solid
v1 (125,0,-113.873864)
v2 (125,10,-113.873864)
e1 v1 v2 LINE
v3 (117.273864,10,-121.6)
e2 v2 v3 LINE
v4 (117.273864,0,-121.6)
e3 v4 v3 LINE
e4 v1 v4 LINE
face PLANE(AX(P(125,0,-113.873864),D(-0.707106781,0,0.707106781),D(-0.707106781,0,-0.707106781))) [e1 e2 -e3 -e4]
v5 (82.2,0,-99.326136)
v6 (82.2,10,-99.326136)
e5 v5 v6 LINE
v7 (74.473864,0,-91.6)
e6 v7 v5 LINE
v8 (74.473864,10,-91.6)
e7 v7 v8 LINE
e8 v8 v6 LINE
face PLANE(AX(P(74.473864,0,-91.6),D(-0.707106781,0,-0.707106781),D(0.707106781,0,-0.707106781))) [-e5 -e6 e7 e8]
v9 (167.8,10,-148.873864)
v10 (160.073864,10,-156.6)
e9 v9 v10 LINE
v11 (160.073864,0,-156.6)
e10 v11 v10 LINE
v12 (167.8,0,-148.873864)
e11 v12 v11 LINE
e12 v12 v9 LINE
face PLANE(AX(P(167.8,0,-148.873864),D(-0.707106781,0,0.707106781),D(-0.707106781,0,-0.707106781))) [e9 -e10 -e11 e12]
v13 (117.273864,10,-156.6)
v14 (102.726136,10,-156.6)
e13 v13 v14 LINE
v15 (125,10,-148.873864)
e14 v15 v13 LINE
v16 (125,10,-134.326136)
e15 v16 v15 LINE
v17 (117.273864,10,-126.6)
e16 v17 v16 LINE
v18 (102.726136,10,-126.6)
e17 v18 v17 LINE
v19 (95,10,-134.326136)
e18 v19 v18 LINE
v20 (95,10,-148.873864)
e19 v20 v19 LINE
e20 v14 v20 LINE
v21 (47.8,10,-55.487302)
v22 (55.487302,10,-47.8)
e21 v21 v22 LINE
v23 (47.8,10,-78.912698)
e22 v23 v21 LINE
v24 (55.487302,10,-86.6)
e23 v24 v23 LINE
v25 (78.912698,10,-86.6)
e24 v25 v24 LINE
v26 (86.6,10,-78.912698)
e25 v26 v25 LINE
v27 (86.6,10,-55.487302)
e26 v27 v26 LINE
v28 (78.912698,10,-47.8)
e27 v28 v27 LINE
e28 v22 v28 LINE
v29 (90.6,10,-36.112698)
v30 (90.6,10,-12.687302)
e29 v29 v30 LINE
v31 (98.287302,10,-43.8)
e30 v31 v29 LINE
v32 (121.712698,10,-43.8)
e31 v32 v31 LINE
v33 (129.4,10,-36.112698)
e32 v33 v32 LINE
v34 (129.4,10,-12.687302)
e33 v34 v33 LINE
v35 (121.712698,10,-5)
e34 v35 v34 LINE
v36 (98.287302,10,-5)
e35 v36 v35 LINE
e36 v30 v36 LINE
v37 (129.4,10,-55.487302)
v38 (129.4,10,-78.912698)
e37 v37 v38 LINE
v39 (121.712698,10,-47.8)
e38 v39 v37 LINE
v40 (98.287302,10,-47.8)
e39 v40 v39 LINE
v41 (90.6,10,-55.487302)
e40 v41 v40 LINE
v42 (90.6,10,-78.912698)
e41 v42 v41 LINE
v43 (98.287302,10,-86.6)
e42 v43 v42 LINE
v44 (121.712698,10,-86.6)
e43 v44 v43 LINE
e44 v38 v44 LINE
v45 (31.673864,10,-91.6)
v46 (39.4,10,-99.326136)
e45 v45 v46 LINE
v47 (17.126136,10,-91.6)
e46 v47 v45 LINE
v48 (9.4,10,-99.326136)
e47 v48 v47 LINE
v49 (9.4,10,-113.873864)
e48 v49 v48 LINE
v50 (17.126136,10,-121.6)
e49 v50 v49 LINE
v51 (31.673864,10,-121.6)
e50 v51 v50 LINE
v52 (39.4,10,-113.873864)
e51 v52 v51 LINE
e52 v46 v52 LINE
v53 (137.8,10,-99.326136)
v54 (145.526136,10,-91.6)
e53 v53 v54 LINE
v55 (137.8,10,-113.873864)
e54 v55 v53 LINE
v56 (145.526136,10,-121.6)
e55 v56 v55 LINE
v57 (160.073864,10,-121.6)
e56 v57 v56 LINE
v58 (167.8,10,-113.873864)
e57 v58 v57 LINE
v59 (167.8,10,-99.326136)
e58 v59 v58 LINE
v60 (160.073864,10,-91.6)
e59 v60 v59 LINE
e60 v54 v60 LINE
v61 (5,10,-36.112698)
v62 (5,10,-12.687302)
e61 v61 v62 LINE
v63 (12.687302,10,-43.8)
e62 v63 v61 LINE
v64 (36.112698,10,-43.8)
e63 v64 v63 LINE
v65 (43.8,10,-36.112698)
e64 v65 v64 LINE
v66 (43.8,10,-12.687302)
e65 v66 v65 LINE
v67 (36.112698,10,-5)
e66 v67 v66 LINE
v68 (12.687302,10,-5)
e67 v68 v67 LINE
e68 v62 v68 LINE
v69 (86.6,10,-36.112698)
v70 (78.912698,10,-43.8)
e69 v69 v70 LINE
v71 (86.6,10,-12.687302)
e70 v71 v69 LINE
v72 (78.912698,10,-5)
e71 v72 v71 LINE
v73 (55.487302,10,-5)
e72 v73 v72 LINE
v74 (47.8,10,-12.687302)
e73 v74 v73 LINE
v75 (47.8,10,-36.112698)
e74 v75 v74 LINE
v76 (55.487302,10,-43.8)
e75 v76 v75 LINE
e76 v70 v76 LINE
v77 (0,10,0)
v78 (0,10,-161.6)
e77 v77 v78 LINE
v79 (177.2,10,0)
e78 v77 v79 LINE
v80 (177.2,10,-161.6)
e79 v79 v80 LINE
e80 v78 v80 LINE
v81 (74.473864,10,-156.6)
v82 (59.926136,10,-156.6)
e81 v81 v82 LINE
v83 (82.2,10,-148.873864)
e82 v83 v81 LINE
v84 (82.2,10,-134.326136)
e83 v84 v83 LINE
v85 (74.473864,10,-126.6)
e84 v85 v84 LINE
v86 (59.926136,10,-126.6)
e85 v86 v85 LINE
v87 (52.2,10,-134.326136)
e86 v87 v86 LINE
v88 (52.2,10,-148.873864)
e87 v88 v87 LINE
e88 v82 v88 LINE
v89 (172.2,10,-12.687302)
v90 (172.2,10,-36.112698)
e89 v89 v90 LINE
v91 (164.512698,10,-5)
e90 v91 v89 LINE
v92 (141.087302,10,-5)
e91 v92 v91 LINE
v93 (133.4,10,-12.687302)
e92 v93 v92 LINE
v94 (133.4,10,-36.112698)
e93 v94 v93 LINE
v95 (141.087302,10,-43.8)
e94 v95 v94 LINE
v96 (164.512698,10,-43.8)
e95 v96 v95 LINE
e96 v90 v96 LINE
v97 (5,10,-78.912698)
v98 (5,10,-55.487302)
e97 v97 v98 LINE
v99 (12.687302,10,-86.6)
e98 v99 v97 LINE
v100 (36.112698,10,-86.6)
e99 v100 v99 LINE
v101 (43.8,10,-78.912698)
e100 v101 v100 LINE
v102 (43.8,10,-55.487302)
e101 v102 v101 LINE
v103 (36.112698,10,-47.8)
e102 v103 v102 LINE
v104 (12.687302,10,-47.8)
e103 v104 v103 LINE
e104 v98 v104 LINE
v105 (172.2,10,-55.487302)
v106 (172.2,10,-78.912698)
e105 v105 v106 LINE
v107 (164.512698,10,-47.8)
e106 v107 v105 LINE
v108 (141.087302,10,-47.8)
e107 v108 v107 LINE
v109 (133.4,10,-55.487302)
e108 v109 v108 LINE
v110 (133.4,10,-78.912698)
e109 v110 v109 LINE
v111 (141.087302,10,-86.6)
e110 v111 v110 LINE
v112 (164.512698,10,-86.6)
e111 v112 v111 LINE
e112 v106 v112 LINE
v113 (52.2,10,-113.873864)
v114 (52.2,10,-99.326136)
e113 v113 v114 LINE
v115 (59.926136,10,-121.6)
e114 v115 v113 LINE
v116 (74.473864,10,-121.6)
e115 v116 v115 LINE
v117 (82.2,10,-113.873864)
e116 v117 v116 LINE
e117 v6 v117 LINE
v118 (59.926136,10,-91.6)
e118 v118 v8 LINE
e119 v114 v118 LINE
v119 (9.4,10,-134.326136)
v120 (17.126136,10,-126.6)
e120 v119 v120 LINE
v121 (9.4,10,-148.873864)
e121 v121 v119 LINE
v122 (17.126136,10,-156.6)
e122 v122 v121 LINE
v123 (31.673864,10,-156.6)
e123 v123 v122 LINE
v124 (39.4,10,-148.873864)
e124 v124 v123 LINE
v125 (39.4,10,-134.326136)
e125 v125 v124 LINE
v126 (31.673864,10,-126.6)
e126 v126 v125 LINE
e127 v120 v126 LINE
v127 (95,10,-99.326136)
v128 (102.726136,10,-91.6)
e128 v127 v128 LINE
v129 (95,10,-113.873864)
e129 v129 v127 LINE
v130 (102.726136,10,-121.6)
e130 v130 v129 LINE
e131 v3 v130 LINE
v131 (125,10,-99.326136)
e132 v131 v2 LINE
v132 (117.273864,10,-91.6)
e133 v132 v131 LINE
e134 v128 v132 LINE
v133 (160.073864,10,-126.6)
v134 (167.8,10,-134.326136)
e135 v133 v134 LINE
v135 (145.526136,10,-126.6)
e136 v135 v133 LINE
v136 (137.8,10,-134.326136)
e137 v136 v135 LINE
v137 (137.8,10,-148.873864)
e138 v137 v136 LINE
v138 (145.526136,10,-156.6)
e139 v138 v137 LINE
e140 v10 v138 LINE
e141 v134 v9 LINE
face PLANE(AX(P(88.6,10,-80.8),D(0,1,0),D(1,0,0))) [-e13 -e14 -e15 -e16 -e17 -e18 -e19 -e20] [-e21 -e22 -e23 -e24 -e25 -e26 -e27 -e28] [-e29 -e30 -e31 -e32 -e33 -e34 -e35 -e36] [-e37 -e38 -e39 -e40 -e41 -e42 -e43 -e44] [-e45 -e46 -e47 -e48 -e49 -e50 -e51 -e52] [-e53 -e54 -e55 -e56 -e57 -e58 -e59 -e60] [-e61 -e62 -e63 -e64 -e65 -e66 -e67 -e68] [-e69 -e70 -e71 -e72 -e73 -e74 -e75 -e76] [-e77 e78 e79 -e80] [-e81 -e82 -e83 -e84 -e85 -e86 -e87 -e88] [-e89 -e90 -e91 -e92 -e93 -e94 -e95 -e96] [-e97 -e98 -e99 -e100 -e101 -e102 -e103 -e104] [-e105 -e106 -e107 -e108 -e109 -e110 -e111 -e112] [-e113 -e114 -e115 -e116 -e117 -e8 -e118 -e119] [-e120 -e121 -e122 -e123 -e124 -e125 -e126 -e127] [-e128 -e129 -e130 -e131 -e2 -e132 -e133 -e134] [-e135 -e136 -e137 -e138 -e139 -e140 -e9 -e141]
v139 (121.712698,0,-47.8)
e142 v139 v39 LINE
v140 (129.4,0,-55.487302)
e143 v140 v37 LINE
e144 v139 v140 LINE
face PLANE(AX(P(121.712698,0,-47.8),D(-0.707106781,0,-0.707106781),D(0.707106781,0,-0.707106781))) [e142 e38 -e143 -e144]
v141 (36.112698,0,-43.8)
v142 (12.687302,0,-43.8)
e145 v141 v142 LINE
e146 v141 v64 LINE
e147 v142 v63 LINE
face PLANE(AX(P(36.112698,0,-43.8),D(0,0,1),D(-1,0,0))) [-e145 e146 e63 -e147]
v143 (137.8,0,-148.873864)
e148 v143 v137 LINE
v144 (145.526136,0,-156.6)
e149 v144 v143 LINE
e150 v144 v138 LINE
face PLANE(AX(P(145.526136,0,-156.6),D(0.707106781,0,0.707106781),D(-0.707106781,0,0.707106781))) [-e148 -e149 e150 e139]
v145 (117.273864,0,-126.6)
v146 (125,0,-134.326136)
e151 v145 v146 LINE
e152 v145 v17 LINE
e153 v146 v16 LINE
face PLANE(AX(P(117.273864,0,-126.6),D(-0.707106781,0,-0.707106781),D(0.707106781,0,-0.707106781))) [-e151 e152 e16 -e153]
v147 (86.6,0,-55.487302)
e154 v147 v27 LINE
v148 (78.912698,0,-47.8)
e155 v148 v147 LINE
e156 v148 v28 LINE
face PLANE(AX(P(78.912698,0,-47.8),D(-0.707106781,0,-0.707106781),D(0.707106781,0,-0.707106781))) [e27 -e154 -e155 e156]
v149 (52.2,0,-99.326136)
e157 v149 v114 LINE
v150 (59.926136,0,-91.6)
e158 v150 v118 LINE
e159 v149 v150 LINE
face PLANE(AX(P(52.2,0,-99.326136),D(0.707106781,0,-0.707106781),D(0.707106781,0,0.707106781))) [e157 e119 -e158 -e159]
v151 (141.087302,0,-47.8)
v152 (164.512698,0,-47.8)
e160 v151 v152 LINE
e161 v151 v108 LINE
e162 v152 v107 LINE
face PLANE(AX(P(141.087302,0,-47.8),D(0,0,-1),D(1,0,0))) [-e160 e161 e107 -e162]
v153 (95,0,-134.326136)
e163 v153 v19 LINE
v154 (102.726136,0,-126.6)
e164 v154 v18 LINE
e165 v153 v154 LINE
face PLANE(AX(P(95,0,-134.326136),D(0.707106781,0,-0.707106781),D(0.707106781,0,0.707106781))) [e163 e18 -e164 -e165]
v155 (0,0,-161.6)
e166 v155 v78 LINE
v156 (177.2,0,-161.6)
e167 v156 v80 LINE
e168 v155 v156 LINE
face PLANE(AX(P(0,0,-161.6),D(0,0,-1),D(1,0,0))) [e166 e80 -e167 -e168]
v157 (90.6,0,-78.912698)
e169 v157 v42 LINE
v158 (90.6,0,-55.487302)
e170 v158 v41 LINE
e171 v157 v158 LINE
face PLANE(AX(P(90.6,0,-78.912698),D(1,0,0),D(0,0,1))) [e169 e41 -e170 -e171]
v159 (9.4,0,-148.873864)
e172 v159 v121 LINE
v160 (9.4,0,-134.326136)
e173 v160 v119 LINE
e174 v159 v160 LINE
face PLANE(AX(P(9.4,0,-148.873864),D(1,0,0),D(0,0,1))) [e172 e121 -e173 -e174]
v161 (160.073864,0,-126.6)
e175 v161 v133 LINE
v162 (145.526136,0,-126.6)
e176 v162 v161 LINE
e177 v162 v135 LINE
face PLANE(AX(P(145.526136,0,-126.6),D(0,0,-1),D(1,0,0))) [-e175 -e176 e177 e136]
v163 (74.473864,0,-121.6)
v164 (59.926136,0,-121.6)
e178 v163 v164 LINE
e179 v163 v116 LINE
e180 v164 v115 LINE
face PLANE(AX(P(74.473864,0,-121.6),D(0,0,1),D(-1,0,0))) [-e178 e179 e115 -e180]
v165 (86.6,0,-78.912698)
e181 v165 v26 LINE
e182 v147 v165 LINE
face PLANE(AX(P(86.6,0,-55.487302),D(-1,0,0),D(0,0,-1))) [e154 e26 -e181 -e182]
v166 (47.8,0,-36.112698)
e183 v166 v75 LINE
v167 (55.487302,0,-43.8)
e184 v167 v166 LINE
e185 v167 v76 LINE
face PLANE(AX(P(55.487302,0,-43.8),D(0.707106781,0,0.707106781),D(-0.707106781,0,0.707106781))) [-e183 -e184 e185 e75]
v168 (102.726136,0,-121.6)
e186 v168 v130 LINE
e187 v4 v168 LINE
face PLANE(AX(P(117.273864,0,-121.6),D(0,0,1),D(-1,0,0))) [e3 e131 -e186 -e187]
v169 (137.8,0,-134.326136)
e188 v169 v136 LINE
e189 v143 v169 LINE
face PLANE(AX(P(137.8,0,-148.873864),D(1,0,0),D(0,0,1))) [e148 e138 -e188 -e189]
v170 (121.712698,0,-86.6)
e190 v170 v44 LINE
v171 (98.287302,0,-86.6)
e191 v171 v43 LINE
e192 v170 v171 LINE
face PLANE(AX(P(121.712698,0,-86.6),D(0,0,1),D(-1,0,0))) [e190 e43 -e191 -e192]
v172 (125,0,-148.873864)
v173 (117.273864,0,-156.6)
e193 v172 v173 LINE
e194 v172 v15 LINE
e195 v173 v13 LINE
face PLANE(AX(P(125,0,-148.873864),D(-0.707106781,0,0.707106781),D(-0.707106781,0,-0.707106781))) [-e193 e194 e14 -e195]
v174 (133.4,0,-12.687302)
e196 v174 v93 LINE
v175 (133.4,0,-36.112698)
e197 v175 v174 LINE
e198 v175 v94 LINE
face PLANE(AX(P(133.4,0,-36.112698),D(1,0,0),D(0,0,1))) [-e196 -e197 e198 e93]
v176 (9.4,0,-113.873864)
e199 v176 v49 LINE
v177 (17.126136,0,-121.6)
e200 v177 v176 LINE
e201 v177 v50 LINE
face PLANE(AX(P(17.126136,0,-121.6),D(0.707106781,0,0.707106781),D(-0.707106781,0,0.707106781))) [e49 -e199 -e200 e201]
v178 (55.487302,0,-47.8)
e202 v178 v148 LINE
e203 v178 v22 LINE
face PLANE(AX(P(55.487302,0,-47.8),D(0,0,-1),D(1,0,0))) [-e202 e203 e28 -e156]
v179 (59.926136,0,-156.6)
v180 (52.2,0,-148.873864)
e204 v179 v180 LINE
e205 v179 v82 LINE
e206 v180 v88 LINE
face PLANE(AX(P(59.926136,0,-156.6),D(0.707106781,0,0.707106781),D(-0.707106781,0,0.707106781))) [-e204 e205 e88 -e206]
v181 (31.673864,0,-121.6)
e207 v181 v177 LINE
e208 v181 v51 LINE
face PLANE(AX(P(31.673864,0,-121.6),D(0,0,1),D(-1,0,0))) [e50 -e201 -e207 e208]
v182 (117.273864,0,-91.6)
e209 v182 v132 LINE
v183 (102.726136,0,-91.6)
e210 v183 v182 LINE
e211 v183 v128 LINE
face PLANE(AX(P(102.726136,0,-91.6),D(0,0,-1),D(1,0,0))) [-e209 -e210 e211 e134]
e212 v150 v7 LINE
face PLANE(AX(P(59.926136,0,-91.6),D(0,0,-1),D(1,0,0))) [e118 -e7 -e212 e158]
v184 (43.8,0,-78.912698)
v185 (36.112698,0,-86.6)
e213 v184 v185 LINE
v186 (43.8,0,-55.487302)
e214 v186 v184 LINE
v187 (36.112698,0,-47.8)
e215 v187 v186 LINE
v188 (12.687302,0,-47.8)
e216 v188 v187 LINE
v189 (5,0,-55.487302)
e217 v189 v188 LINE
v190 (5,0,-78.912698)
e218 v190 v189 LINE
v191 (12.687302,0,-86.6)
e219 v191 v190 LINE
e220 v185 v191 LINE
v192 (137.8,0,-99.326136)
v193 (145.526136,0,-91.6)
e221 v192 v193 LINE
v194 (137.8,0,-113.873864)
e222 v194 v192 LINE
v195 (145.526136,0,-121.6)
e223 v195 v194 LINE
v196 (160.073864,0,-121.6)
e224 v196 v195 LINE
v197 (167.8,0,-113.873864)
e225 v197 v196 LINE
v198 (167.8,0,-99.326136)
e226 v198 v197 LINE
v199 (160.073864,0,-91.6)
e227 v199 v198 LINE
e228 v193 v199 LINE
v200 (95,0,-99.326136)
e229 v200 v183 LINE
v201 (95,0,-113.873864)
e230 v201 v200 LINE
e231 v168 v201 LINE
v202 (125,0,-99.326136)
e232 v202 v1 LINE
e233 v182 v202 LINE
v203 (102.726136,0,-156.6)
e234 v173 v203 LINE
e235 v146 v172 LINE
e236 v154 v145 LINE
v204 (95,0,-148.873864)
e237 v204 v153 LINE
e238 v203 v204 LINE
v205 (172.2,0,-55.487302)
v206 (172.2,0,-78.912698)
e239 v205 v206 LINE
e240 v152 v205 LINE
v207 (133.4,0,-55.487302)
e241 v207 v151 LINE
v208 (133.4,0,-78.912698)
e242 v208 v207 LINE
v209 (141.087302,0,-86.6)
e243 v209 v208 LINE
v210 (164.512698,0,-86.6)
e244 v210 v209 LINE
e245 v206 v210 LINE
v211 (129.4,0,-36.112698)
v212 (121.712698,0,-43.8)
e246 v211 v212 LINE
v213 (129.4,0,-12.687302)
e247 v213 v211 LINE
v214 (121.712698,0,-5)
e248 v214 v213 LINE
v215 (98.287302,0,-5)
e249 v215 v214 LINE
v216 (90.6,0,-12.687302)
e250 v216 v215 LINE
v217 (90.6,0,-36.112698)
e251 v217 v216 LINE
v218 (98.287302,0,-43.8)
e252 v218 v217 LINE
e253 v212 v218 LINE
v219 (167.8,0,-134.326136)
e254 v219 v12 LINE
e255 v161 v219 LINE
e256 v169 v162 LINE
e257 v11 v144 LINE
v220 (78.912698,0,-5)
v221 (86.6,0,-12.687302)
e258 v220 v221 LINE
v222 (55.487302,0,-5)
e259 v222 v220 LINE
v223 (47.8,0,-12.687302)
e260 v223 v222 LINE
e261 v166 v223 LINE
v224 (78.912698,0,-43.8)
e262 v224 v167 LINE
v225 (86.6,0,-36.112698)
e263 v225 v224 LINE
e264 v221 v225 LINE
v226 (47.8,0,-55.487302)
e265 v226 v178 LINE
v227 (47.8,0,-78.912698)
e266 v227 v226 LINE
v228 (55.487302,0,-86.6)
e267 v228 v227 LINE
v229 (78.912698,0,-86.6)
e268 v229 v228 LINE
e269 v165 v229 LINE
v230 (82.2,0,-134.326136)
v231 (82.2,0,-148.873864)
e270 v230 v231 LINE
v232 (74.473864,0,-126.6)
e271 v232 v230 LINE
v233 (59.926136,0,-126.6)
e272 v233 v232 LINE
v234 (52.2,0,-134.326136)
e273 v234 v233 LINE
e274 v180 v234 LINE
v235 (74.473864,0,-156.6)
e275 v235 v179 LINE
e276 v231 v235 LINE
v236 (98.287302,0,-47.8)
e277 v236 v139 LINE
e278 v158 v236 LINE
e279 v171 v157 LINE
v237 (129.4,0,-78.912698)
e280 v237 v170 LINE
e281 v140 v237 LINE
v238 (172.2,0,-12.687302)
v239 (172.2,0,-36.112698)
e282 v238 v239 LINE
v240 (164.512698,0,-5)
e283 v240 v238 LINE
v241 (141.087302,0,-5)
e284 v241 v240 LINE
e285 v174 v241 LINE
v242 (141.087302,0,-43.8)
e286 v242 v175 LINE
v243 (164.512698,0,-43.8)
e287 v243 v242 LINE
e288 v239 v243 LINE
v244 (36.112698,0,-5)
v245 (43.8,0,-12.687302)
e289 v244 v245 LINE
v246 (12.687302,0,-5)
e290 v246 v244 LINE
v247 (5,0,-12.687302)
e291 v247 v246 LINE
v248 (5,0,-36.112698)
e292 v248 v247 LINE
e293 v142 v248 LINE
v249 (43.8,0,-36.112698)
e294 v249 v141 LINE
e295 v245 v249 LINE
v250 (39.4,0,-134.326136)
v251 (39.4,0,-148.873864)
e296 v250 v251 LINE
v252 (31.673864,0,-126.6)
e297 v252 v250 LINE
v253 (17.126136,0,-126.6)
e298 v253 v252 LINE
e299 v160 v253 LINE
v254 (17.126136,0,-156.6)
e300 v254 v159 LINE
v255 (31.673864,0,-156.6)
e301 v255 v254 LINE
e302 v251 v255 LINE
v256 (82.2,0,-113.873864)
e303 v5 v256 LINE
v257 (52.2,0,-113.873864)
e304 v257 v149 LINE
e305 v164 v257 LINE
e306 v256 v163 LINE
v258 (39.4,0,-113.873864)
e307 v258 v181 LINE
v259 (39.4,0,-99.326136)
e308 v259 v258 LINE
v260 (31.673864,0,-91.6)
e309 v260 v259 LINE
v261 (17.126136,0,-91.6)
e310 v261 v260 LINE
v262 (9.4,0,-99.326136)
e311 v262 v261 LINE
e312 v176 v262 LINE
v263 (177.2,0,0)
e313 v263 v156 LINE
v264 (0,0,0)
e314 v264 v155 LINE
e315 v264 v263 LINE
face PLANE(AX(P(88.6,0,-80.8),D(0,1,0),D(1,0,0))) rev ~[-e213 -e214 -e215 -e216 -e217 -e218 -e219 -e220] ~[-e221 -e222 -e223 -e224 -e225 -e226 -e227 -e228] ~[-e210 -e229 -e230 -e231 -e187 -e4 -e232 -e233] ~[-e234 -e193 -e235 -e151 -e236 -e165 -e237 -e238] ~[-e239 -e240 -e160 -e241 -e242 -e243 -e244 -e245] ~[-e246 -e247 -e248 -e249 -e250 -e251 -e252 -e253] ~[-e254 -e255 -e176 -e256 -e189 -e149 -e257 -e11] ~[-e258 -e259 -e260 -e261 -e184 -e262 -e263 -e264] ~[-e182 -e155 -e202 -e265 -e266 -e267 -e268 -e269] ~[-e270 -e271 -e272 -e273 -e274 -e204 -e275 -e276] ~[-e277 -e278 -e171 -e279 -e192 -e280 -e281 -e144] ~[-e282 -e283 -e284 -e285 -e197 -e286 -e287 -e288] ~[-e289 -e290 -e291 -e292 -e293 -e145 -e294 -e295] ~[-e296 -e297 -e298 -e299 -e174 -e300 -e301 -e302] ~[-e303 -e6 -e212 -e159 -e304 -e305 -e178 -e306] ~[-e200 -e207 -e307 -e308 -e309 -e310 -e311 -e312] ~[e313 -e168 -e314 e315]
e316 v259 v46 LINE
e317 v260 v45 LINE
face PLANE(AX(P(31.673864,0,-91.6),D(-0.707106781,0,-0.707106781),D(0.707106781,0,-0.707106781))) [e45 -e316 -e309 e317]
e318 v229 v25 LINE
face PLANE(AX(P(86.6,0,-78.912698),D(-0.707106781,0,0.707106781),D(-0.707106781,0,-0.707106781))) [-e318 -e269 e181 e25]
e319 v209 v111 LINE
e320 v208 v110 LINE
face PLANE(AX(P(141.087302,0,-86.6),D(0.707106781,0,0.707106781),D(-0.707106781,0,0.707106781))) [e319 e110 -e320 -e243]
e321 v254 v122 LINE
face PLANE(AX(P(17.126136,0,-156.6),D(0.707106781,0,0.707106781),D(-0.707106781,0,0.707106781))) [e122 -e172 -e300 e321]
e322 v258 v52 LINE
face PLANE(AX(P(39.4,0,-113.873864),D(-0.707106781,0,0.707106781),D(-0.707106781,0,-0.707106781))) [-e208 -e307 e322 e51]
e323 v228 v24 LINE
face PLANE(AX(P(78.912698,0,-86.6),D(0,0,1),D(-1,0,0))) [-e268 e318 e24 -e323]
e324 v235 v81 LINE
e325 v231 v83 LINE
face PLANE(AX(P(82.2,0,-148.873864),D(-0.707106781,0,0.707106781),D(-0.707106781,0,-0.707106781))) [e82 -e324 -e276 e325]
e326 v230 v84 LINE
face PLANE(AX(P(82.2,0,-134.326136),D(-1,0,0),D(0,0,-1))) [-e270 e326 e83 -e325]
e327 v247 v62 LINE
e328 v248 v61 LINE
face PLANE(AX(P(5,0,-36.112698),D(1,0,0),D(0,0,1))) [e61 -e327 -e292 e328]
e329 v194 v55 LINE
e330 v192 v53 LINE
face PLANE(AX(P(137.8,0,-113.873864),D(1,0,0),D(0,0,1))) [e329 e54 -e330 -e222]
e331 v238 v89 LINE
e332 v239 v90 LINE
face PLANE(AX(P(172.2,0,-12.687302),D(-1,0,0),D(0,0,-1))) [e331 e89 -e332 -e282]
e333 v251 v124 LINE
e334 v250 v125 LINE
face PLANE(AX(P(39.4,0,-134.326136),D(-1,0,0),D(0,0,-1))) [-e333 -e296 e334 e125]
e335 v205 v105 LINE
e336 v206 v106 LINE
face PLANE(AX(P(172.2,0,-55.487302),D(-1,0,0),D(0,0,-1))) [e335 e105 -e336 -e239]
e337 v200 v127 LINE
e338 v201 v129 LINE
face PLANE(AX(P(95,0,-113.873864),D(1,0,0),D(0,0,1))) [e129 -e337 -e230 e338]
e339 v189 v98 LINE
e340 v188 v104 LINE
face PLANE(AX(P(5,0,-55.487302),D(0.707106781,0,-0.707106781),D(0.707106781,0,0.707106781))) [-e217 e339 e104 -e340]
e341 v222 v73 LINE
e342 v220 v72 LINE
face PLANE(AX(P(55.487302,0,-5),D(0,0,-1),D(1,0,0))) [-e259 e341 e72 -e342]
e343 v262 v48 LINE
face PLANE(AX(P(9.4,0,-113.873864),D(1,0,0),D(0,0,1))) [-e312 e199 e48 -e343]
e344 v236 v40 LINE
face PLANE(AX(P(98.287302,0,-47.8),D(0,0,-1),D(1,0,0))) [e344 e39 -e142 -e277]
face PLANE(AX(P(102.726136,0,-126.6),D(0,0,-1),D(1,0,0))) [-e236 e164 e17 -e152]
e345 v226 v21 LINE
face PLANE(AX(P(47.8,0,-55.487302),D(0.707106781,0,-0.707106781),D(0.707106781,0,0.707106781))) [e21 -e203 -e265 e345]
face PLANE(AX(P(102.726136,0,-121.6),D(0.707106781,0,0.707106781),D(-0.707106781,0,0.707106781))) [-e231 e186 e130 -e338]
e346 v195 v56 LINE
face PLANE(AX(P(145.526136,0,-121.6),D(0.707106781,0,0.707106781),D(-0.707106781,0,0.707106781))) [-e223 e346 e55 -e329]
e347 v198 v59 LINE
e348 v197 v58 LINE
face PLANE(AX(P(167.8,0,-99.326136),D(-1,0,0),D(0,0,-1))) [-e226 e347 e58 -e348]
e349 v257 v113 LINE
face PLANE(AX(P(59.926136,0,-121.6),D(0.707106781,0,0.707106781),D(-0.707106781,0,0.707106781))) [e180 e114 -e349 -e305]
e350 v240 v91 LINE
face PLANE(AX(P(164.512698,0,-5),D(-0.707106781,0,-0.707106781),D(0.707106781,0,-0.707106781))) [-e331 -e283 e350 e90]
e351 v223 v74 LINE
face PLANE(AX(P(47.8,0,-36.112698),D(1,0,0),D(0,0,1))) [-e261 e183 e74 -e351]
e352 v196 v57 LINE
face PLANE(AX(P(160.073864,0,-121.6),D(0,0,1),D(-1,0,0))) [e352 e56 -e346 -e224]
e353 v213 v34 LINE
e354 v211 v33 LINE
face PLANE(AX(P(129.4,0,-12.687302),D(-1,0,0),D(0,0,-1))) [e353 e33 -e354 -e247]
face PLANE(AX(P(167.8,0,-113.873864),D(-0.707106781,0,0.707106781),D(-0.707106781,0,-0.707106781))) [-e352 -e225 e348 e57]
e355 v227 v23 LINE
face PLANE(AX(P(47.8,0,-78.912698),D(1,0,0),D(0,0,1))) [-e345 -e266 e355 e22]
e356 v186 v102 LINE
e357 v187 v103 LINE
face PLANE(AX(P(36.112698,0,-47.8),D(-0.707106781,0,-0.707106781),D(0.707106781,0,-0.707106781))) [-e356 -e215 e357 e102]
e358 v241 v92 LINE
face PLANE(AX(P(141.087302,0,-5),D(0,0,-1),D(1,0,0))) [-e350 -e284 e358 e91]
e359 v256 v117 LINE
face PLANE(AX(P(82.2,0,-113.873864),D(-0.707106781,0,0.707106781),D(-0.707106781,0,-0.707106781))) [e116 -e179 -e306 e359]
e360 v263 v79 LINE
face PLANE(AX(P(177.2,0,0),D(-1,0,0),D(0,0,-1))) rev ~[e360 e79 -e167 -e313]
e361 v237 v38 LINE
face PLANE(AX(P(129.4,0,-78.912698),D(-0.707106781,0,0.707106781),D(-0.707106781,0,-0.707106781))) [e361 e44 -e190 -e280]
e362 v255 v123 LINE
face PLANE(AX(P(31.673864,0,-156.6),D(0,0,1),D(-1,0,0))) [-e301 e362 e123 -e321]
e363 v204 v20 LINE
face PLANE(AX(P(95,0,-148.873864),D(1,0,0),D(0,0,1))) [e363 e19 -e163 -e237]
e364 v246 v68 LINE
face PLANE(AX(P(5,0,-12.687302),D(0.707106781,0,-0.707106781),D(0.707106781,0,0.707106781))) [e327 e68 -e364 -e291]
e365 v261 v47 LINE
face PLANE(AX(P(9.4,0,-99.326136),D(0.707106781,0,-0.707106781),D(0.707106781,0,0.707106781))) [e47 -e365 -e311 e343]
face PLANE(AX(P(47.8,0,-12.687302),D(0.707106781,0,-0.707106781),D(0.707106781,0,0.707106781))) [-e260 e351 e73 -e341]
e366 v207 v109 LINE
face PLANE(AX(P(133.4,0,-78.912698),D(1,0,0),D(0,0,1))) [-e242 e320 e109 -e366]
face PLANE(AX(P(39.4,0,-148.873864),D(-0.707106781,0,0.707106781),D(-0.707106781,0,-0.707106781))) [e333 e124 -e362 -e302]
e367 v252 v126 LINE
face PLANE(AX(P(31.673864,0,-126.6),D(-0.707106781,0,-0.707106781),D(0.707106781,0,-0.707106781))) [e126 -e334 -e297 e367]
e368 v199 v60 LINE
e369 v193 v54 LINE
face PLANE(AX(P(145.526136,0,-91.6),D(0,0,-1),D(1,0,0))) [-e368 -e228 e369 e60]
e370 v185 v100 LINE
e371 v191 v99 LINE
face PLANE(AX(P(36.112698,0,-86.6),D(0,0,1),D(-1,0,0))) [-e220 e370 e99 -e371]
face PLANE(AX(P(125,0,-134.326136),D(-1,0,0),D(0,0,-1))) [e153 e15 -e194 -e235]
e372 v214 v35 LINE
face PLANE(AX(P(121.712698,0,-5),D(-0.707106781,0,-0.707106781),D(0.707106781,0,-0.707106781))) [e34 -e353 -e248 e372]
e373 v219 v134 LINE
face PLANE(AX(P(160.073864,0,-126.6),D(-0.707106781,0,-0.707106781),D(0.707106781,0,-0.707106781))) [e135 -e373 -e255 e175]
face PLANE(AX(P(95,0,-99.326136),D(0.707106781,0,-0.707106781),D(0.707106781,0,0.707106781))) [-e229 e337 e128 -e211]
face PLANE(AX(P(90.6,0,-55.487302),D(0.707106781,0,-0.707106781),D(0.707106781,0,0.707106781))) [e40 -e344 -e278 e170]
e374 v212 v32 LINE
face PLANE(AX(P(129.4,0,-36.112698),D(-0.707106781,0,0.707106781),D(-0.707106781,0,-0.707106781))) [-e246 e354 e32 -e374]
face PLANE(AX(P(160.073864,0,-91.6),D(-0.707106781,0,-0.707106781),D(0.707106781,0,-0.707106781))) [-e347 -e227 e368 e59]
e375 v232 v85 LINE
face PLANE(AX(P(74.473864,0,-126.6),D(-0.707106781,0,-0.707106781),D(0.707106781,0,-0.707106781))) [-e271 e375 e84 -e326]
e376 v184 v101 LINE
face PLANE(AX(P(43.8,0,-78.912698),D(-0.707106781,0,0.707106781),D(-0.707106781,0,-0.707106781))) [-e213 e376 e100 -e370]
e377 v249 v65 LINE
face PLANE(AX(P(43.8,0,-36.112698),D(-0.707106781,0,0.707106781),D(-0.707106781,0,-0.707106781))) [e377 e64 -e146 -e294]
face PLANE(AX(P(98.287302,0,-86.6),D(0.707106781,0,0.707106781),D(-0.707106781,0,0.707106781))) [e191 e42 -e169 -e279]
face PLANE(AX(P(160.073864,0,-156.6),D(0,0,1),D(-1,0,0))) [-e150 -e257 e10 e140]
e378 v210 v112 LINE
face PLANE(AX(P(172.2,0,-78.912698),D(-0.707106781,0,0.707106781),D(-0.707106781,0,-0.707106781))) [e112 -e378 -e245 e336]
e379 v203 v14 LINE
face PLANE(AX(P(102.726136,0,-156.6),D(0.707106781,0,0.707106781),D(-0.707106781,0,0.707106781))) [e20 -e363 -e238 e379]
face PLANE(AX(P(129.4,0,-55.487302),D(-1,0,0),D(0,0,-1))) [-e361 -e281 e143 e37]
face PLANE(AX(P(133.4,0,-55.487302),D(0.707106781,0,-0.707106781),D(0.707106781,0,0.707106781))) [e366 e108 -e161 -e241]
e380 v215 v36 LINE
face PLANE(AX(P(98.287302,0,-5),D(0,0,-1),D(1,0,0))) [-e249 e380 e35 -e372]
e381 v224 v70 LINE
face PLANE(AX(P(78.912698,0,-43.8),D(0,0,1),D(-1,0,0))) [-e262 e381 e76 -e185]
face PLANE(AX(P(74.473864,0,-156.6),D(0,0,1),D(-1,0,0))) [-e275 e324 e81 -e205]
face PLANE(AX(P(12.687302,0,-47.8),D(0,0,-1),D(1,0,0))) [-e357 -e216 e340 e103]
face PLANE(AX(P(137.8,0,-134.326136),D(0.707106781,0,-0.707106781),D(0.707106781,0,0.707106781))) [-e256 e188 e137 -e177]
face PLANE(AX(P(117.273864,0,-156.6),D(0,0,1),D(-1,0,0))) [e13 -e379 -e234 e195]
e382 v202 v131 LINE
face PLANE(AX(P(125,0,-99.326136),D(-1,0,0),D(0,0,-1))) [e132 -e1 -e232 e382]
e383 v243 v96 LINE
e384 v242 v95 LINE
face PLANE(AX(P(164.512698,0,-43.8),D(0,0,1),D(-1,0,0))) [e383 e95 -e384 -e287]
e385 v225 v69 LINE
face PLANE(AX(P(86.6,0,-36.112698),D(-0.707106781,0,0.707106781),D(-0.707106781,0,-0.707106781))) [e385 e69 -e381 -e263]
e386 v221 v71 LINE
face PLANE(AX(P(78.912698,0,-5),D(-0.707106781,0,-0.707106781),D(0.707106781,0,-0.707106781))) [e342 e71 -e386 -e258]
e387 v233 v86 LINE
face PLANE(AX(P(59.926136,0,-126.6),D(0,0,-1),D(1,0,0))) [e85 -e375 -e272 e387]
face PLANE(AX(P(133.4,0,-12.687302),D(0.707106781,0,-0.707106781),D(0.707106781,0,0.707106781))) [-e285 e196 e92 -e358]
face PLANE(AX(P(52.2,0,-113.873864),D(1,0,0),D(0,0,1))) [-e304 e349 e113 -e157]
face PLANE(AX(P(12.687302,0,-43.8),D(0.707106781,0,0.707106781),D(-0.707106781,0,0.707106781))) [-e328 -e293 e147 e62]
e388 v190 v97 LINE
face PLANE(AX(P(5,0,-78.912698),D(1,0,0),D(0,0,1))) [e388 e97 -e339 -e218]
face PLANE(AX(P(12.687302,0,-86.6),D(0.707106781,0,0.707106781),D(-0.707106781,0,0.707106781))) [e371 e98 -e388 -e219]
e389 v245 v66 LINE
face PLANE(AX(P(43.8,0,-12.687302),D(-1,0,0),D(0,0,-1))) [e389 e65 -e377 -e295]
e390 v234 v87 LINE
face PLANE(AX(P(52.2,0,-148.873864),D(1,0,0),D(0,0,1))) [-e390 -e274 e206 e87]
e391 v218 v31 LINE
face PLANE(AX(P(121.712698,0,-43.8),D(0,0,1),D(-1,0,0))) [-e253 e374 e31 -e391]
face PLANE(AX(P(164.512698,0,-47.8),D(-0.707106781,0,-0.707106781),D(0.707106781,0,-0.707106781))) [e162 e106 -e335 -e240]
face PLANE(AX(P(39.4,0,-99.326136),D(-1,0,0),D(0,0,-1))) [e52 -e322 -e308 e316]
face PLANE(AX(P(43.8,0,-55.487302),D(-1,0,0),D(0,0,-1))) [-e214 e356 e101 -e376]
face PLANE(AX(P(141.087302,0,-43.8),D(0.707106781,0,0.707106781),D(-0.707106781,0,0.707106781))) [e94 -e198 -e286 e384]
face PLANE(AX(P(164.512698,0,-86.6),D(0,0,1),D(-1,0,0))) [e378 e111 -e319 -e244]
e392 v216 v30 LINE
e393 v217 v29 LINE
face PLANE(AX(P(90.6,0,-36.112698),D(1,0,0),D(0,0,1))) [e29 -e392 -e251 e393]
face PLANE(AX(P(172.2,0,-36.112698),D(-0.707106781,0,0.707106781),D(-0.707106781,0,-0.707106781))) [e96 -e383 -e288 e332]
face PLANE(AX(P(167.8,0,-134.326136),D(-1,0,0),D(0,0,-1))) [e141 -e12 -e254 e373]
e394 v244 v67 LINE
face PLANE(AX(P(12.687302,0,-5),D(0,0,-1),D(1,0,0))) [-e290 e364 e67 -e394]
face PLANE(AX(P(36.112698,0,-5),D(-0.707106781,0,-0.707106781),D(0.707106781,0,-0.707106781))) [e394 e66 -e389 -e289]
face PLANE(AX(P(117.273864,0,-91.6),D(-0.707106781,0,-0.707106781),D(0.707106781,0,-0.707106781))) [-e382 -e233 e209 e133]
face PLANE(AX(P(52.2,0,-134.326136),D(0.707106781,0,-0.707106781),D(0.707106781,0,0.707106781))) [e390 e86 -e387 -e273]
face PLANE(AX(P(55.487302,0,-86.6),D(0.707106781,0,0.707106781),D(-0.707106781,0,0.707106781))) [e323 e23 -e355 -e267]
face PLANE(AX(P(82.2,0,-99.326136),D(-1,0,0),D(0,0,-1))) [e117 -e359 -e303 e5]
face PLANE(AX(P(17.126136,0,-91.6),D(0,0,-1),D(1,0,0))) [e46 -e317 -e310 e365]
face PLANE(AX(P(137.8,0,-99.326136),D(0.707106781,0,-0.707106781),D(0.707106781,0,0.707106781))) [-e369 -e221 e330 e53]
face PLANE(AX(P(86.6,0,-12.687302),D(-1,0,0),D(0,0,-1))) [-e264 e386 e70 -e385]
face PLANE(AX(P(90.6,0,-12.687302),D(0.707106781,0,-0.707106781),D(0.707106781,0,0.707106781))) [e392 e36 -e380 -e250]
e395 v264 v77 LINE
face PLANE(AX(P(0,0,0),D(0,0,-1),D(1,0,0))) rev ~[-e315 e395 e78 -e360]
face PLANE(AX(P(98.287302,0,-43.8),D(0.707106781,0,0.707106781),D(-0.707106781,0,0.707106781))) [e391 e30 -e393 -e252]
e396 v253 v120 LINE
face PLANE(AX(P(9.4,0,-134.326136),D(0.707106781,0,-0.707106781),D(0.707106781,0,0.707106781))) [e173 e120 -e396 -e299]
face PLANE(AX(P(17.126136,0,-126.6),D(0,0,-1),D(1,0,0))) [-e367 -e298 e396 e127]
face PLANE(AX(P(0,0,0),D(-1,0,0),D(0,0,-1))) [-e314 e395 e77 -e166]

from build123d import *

# Parameters (mm, degrees)
SKETCH1_W           = 177.2
SKETCH1_H           = 161.6
BOSS_EXTRUDE1_DEPTH = 10


with BuildPart() as part:
    # Sketch1 → Boss-Extrude1 (new body)
    with BuildSketch(Plane(origin=(0, 0, 0), x_dir=(1, 0, 0), z_dir=(0, 1, 0))):
        with Locations((88.6, 80.8)):
            Rectangle(SKETCH1_W, SKETCH1_H)
        Polygon((5, 36.112698372), (5, 12.687301628), (12.687301628, 5), (36.112698372, 5), (43.8, 12.687301628), (43.8, 36.112698372), (36.112698372, 43.8), (12.687301628, 43.8), align=None, mode=Mode.SUBTRACT)
        Polygon((55.487301628, 43.8), (47.8, 36.112698372), (47.8, 12.687301628), (55.487301628, 5), (78.912698372, 5), (86.6, 12.687301628), (86.6, 36.112698372), (78.912698372, 43.8), align=None, mode=Mode.SUBTRACT)
        Polygon((98.287301628, 43.8), (90.6, 36.112698372), (90.6, 12.687301628), (98.287301628, 5), (121.712698372, 5), (129.4, 12.687301628), (129.4, 36.112698372), (121.712698372, 43.8), align=None, mode=Mode.SUBTRACT)
        Polygon((141.087301628, 43.8), (133.4, 36.112698372), (133.4, 12.687301628), (141.087301628, 5), (164.512698372, 5), (172.2, 12.687301628), (172.2, 36.112698372), (164.512698372, 43.8), align=None, mode=Mode.SUBTRACT)
        Polygon((55.487301628, 86.6), (47.8, 78.912698372), (47.8, 55.487301628), (55.487301628, 47.8), (78.912698372, 47.8), (86.6, 55.487301628), (86.6, 78.912698372), (78.912698372, 86.6), align=None, mode=Mode.SUBTRACT)
        Polygon((98.287301628, 86.6), (90.6, 78.912698372), (90.6, 55.487301628), (98.287301628, 47.8), (121.712698372, 47.8), (129.4, 55.487301628), (129.4, 78.912698372), (121.712698372, 86.6), align=None, mode=Mode.SUBTRACT)
        Polygon((141.087301628, 86.6), (133.4, 78.912698372), (133.4, 55.487301628), (141.087301628, 47.8), (164.512698372, 47.8), (172.2, 55.487301628), (172.2, 78.912698372), (164.512698372, 86.6), align=None, mode=Mode.SUBTRACT)
        Polygon((12.687301628, 86.6), (5, 78.912698372), (5, 55.487301628), (12.687301628, 47.8), (36.112698372, 47.8), (43.8, 55.487301628), (43.8, 78.912698372), (36.112698372, 86.6), align=None, mode=Mode.SUBTRACT)
        Polygon((9.4, 113.873863607), (9.4, 99.326136393), (17.126136393, 91.6), (31.673863607, 91.6), (39.4, 99.326136393), (39.4, 113.873863607), (31.673863607, 121.6), (17.126136393, 121.6), align=None, mode=Mode.SUBTRACT)
        Polygon((52.2, 113.873863607), (52.2, 99.326136393), (59.926136393, 91.6), (74.473863607, 91.6), (82.2, 99.326136393), (82.2, 113.873863607), (74.473863607, 121.6), (59.926136393, 121.6), align=None, mode=Mode.SUBTRACT)
        Polygon((95, 113.873863607), (95, 99.326136393), (102.726136393, 91.6), (117.273863607, 91.6), (125, 99.326136393), (125, 113.873863607), (117.273863607, 121.6), (102.726136393, 121.6), align=None, mode=Mode.SUBTRACT)
        Polygon((137.8, 113.873863607), (137.8, 99.326136393), (145.526136393, 91.6), (160.073863607, 91.6), (167.8, 99.326136393), (167.8, 113.873863607), (160.073863607, 121.6), (145.526136393, 121.6), align=None, mode=Mode.SUBTRACT)
        Polygon((52.2, 148.873863607), (52.2, 134.326136393), (59.926136393, 126.6), (74.473863607, 126.6), (82.2, 134.326136393), (82.2, 148.873863607), (74.473863607, 156.6), (59.926136393, 156.6), align=None, mode=Mode.SUBTRACT)
        Polygon((95, 148.873863607), (95, 134.326136393), (102.726136393, 126.6), (117.273863607, 126.6), (125, 134.326136393), (125, 148.873863607), (117.273863607, 156.6), (102.726136393, 156.6), align=None, mode=Mode.SUBTRACT)
        Polygon((137.8, 148.873863607), (137.8, 134.326136393), (145.526136393, 126.6), (160.073863607, 126.6), (167.8, 134.326136393), (167.8, 148.873863607), (160.073863607, 156.6), (145.526136393, 156.6), align=None, mode=Mode.SUBTRACT)
        Polygon((9.4, 148.873863607), (9.4, 134.326136393), (17.126136393, 126.6), (31.673863607, 126.6), (39.4, 134.326136393), (39.4, 148.873863607), (31.673863607, 156.6), (17.126136393, 156.6), align=None, mode=Mode.SUBTRACT)
    extrude(amount=BOSS_EXTRUDE1_DEPTH)


solid = part.part
